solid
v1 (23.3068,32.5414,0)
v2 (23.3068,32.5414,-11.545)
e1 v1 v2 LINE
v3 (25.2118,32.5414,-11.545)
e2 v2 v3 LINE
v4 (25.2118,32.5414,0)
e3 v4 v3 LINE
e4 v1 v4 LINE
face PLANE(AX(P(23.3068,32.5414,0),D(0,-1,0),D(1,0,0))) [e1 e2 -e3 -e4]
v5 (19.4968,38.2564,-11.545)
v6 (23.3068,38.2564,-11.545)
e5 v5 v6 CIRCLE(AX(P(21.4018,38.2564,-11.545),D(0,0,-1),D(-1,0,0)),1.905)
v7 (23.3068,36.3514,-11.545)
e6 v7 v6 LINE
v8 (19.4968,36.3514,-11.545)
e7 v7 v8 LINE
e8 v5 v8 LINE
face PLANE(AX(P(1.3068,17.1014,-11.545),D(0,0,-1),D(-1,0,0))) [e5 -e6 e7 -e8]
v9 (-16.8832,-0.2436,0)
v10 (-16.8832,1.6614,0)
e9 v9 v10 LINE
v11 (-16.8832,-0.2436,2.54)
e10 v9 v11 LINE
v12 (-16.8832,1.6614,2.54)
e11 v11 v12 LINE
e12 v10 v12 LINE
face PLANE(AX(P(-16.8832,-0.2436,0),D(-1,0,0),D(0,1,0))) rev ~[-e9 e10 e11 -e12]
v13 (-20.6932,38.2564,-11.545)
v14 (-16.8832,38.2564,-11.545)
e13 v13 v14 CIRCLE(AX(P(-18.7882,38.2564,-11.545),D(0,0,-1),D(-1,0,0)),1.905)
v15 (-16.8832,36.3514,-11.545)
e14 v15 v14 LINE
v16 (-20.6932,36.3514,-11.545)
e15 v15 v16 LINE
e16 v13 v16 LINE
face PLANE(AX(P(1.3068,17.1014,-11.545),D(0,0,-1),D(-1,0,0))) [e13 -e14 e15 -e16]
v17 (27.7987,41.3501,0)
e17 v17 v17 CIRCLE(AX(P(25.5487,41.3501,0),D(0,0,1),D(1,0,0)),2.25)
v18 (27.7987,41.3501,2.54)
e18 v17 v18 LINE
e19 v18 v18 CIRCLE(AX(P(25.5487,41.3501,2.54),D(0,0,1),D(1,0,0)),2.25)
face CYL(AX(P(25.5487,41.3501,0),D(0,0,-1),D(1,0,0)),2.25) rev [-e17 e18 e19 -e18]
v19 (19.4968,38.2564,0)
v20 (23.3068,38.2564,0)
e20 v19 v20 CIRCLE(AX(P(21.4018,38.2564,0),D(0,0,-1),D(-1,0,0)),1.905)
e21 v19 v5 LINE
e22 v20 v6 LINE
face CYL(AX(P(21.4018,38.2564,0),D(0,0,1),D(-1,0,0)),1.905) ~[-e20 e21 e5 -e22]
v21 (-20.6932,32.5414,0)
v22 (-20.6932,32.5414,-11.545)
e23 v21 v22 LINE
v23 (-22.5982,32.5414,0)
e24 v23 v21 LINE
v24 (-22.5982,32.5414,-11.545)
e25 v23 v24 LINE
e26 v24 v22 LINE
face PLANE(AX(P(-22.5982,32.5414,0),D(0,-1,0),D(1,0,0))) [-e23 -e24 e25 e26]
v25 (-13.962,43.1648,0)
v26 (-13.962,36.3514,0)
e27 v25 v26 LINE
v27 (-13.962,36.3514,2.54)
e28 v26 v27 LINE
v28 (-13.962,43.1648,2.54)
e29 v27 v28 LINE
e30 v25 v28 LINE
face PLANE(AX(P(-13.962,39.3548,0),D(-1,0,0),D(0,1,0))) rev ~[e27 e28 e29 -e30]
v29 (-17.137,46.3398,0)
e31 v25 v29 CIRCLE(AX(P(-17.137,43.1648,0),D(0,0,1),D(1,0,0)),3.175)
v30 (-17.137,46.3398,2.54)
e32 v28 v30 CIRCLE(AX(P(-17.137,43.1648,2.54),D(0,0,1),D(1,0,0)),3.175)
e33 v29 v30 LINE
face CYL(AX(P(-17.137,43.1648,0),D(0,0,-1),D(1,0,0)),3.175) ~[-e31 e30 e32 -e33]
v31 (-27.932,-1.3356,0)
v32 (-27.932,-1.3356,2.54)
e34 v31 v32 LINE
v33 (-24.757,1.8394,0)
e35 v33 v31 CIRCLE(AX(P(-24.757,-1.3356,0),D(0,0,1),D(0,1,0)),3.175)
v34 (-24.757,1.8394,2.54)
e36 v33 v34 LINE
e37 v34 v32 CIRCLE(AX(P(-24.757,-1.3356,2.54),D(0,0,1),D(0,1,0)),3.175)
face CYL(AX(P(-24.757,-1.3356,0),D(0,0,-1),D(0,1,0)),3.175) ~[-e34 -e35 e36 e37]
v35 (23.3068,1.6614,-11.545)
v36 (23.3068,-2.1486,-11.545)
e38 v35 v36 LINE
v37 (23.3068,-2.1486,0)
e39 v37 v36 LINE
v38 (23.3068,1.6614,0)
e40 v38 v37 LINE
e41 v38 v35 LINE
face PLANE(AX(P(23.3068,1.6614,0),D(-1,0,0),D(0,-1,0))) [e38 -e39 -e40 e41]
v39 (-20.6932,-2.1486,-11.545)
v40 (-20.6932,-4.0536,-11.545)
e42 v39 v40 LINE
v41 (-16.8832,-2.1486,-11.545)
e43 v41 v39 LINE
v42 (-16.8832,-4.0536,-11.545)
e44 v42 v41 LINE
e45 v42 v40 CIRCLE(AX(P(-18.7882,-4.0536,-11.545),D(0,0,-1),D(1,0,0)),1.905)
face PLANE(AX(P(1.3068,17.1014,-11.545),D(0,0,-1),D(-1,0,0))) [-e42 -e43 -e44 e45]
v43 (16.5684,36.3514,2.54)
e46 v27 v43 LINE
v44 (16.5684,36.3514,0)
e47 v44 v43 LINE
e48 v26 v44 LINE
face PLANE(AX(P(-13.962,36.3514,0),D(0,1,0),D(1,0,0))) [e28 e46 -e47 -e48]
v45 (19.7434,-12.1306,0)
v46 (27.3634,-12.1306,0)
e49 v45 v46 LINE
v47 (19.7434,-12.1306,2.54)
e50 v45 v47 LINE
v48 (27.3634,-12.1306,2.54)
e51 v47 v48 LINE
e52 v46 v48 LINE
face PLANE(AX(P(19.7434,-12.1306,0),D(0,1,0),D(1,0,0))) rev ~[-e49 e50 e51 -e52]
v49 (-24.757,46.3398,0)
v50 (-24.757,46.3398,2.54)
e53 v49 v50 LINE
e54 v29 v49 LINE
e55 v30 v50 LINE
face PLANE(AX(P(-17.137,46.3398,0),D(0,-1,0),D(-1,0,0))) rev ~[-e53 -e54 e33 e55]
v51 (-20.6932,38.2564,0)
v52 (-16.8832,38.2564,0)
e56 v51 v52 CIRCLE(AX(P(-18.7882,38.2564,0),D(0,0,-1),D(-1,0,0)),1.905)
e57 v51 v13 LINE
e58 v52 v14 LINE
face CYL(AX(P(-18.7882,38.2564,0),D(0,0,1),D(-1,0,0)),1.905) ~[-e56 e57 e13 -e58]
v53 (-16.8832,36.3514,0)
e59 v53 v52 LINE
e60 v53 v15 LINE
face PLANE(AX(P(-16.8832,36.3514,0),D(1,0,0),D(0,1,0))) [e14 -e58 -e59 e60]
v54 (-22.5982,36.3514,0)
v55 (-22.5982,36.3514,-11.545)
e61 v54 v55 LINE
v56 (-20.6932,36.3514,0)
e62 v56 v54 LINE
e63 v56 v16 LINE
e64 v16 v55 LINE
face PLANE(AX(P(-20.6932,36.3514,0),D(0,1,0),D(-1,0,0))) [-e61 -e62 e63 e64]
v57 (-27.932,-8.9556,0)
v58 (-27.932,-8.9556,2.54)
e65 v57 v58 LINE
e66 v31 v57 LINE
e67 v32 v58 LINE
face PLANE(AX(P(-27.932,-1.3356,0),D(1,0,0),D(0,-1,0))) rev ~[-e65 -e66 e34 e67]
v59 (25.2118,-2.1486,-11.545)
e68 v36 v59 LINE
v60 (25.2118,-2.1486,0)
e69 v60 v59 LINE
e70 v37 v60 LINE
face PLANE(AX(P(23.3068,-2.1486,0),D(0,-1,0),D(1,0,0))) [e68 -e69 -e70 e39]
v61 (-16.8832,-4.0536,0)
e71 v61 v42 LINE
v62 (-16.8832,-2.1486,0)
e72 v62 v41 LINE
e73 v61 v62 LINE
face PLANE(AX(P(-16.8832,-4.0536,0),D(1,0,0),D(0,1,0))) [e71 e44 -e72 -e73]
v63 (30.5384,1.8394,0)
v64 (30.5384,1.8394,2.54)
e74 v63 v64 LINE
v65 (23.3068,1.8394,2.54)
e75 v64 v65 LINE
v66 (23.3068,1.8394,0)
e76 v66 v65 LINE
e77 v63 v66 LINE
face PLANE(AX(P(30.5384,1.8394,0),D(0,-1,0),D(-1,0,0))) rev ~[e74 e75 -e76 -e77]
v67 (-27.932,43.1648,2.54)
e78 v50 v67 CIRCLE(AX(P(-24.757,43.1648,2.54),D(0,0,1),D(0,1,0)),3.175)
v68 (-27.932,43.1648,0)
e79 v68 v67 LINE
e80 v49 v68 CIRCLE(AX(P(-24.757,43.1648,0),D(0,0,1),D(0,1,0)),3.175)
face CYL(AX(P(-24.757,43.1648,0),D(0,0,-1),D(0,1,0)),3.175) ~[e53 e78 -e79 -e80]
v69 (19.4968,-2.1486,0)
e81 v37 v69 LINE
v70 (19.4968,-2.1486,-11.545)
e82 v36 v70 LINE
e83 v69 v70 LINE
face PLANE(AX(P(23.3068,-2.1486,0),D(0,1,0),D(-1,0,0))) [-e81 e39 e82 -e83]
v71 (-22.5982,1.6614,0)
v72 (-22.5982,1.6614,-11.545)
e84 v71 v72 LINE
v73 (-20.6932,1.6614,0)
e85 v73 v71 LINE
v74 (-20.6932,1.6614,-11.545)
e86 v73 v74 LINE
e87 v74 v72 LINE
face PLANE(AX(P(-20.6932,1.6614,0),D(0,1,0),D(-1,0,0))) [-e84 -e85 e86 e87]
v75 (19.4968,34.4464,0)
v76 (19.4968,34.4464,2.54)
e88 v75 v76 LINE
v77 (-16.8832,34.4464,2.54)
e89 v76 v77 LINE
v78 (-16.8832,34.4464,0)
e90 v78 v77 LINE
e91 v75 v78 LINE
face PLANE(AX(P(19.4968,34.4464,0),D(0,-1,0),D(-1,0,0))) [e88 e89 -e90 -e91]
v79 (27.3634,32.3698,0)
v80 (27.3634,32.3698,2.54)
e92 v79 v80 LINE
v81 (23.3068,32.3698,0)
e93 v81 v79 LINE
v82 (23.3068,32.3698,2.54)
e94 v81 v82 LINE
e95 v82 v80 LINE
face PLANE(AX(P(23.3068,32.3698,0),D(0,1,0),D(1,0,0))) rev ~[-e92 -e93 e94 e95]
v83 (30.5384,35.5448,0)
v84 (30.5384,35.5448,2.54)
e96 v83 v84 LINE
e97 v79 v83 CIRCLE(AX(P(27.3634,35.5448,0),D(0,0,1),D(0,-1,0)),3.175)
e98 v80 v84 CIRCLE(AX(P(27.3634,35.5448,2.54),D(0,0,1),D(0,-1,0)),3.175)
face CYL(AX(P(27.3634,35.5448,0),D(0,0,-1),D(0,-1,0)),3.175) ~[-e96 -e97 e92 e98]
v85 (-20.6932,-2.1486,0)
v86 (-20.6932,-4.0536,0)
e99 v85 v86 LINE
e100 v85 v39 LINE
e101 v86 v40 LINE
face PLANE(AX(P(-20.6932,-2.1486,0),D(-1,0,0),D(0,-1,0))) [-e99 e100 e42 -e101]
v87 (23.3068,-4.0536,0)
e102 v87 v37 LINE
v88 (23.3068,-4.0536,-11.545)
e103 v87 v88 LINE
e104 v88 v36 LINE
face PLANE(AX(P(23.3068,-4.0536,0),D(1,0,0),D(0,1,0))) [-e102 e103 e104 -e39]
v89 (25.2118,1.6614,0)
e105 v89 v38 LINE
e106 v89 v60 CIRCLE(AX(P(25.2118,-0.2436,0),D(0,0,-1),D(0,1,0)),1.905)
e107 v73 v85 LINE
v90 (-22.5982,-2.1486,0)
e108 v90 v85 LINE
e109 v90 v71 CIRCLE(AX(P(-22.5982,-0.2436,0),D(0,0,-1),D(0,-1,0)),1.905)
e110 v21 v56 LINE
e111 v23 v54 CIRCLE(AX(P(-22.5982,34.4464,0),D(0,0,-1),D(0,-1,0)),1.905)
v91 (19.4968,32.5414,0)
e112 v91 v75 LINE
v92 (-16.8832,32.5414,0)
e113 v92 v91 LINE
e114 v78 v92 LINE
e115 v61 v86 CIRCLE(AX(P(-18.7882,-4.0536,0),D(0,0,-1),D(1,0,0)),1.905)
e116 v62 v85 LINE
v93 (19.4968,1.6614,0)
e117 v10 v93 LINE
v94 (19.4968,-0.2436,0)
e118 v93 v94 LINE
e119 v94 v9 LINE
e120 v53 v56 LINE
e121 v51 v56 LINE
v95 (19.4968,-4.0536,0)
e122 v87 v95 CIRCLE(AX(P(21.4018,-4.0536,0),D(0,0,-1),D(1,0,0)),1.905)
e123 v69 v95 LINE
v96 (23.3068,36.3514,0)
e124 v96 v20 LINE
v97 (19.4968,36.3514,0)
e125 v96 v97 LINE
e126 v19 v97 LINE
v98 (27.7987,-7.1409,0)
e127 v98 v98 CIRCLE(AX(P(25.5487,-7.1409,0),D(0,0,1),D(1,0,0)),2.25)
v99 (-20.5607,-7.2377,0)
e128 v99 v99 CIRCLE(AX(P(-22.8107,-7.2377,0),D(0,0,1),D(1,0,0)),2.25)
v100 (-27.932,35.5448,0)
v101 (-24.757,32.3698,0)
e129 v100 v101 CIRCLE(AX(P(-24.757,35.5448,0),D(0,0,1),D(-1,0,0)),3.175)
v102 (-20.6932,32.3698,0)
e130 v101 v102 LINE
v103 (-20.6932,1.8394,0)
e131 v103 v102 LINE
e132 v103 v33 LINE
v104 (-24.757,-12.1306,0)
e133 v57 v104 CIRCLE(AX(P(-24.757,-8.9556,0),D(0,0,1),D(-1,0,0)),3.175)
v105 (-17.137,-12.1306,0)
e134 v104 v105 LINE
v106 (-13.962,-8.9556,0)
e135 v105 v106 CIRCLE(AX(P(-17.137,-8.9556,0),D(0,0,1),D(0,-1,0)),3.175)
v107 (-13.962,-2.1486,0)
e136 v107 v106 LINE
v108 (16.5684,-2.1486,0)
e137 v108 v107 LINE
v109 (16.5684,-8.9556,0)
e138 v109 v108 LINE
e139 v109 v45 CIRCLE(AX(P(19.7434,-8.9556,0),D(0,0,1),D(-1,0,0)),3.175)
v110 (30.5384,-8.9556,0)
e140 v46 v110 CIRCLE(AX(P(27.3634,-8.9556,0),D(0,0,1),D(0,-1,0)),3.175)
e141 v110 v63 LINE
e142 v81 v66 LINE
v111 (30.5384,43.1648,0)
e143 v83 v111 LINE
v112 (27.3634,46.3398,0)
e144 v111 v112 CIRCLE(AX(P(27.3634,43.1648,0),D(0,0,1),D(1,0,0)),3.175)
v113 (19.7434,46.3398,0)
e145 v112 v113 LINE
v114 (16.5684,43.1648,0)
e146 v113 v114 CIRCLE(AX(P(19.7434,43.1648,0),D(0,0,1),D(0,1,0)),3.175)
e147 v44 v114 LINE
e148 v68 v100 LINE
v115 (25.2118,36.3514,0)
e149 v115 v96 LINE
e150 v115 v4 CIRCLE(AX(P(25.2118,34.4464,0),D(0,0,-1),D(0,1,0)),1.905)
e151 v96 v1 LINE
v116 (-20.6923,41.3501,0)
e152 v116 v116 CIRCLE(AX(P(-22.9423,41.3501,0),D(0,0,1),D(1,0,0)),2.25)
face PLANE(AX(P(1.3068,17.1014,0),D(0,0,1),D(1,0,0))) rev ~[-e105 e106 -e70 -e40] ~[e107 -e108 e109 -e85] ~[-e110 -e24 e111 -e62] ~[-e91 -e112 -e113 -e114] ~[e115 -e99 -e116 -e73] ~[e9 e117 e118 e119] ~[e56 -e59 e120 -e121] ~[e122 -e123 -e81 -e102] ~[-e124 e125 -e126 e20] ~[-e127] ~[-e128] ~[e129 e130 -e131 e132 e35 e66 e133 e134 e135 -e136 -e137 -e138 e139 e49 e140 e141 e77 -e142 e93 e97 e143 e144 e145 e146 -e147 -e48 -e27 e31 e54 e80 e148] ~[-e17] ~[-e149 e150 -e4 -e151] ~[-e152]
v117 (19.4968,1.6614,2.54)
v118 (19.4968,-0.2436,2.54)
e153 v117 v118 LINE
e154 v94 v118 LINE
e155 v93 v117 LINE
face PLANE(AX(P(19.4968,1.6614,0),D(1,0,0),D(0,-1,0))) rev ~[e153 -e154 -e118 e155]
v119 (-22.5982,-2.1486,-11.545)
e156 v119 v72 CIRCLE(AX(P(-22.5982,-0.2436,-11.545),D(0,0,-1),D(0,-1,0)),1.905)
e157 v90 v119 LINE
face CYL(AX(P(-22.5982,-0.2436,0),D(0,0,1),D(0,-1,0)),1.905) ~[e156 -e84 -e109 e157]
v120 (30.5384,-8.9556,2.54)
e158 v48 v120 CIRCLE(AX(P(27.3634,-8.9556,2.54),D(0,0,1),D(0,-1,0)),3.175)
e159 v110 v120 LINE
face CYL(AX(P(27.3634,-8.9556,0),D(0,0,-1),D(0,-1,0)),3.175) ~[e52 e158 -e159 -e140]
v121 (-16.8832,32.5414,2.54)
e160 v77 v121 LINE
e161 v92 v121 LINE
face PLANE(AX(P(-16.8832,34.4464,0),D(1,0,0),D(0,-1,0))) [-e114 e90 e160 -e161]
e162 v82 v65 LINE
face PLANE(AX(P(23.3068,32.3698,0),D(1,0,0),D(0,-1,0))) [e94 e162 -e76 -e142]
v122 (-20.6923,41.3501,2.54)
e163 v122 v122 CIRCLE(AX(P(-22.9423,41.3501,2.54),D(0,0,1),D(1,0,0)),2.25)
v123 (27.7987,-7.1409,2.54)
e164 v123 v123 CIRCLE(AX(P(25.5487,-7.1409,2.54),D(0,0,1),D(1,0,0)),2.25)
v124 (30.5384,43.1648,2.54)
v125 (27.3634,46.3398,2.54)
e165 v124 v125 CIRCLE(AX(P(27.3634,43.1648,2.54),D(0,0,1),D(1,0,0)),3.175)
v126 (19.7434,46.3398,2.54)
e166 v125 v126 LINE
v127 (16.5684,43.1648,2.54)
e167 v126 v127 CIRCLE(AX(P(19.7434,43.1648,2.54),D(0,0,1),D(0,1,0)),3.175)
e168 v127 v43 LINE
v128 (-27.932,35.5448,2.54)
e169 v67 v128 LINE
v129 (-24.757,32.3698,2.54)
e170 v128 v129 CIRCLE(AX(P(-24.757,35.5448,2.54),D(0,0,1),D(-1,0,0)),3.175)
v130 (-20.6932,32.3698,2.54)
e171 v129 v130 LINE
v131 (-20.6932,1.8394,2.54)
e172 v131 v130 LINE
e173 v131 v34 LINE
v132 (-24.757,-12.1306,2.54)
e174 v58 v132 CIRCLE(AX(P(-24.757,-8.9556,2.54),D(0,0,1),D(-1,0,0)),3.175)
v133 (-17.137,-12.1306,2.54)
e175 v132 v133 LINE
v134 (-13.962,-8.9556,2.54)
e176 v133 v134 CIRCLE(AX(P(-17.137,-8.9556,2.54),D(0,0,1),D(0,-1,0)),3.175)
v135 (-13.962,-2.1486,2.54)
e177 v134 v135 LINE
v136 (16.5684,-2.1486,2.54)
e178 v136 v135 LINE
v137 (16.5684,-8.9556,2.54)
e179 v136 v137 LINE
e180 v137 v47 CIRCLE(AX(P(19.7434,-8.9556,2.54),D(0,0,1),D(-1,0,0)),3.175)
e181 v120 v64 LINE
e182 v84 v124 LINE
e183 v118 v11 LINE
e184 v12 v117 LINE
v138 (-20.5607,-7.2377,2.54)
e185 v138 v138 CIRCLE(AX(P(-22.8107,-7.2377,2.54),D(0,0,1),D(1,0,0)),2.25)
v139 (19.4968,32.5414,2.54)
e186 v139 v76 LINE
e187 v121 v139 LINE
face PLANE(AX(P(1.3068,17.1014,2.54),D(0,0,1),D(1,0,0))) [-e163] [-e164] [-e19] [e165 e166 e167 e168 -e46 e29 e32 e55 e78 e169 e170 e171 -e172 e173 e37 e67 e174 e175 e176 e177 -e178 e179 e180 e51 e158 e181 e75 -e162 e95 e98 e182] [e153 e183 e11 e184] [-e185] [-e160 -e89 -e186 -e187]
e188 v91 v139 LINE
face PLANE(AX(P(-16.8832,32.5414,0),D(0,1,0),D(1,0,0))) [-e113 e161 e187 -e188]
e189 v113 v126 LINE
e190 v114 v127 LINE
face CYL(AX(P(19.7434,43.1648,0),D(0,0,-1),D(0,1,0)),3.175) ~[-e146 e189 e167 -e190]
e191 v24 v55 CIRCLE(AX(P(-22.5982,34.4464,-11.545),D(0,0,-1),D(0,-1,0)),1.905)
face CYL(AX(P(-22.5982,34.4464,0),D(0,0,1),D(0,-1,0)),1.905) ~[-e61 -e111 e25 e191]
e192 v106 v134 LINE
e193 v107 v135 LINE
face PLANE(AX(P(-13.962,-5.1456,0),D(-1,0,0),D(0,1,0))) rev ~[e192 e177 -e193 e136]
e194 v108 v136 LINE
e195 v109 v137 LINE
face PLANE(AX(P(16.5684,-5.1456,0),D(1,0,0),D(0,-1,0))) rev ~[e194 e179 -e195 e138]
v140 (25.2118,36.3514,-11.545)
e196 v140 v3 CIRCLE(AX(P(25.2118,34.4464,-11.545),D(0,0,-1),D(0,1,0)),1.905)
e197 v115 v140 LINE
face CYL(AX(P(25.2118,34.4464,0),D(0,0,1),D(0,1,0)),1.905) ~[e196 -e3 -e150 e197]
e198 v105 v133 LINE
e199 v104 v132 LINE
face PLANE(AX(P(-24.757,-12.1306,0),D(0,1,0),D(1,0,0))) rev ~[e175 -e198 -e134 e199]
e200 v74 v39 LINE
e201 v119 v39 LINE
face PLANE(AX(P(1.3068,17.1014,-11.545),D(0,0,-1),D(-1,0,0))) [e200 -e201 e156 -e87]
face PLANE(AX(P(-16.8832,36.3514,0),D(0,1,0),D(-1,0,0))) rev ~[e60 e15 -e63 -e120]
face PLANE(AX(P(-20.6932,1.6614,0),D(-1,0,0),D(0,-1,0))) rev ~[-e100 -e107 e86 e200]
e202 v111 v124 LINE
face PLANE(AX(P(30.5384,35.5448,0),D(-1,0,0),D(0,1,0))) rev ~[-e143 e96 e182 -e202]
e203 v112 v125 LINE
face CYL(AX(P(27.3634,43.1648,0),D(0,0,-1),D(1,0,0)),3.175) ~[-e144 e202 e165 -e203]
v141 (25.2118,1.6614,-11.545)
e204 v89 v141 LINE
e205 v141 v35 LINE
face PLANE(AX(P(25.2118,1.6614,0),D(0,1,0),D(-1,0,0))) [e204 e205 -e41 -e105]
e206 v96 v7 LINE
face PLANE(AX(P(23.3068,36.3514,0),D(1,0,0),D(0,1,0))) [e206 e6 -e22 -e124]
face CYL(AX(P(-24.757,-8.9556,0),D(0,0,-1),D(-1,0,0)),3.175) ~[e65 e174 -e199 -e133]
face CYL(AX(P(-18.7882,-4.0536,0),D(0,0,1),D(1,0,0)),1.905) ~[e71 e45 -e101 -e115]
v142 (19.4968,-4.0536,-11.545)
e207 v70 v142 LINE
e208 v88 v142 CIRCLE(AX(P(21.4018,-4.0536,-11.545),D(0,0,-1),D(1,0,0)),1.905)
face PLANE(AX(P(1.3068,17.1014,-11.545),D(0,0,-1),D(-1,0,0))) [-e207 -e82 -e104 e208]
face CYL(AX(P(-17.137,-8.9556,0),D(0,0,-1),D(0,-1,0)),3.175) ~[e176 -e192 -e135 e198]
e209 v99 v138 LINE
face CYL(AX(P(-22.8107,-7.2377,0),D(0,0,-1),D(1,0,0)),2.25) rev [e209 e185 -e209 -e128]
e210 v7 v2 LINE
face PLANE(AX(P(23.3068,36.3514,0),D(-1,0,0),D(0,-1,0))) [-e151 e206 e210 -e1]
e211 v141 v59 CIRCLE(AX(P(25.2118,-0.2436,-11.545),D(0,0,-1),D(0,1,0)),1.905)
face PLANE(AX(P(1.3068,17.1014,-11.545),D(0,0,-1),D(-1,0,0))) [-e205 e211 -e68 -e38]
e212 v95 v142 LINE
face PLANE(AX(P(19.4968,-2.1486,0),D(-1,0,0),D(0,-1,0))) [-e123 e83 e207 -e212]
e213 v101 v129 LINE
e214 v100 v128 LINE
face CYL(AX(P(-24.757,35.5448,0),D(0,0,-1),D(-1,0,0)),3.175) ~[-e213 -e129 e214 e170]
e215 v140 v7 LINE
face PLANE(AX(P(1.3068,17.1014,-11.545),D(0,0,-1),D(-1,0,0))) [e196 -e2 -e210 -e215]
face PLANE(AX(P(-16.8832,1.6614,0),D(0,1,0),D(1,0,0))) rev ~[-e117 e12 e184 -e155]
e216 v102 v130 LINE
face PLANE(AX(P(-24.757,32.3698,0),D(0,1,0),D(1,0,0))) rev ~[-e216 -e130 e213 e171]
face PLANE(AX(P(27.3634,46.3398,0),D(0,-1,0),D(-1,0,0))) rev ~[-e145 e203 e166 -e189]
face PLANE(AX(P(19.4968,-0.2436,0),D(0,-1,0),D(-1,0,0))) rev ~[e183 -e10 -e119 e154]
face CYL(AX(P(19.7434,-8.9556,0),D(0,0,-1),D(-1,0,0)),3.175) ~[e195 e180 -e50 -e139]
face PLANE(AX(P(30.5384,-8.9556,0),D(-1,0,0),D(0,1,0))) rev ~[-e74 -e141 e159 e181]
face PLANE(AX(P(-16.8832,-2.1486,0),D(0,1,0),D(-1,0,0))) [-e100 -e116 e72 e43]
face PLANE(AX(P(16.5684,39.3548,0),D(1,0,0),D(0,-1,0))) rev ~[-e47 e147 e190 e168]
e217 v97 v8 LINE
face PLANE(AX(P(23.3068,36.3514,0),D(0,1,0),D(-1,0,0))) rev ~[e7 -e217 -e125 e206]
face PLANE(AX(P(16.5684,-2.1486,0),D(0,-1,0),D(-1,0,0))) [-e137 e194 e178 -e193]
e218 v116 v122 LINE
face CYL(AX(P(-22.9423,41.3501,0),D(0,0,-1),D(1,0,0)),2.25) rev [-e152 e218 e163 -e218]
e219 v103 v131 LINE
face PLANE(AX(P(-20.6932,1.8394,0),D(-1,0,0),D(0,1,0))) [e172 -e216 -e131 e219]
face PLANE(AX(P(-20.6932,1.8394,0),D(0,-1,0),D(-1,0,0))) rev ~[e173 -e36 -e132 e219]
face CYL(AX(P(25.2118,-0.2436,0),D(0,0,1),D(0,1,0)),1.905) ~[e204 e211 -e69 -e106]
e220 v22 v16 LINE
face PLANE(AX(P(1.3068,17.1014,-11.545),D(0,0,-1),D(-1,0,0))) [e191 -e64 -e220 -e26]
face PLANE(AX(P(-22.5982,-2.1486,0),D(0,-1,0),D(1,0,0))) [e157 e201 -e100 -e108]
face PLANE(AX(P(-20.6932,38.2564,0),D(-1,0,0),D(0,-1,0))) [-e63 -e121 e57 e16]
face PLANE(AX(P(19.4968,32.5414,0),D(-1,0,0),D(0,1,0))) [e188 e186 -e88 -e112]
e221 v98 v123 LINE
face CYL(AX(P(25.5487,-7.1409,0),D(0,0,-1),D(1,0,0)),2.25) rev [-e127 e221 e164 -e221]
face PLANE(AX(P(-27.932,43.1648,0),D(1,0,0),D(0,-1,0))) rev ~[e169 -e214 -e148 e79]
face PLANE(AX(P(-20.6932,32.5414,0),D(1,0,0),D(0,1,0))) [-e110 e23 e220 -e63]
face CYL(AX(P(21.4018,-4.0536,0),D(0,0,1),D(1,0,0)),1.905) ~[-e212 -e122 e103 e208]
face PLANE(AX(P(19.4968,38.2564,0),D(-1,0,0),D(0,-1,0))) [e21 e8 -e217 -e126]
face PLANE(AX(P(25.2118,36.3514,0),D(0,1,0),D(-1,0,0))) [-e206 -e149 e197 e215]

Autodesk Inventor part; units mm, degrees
ref_plane "YZ Plane" through (0, 0, 0) normal (1, 0, 0) x (0, 1, 0)
ref_plane "XZ Plane" through (0, 0, 0) normal (0, 1, 0) x (-1, 0, 0)
ref_plane "XY Plane" through (0, 0, 0) normal (0, 0, 1) x (1, 0, 0)
ref_plane "Work Plane1" through (1.3068, 17.1014, 0) normal (0, 0, 1) x (1, 0, 0)
sketch "Sketch2" plane through (1.3068, 17.1014, 0) normal (0, 0, 1) x (1, 0, 0)
  line L0 (-22, -19.25) -> (-22, 19.25)
  line L1 (-22, 19.25) -> (22, 19.25)
  line L2 (22, -19.25) -> (-22, -19.25)
  line L3 (-22, 19.25) -> (22, 19.25)
  line L4 (22, 19.25) -> (22, -19.25)
  line L5 (-22, 19.25) -> (22, 19.25)
  line L6 (-22, 19.25) -> (-18.19, 19.25)
  line L7 (-22, 15.44) -> (-22, 19.25)
  line L8 (-22, -19.25) -> (-18.19, -19.25)
  line L9 (22, -19.25) -> (18.19, -19.25)
  line L10 (22, -15.44) -> (22, -19.25)
  line L11 (22, 15.44) -> (22, 19.25)
  line L12 (22, 19.25) -> (18.19, 19.25)
  line L13 (18.19, 17.345) -> (-18.19, 17.345)
  line L14 (-18.19, 17.345) -> (-18.19, 15.44)
  line L15 (-18.19, 15.44) -> (18.19, 15.44)
  line L16 (18.19, 15.44) -> (18.19, 17.345)
  line L17 (18.19, -17.345) -> (-18.19, -17.345)
  line L18 (-18.19, -17.345) -> (-18.19, -15.44)
  line L19 (-18.19, -15.44) -> (18.19, -15.44)
  line L20 (18.19, -15.44) -> (18.19, -17.345)
  circle A0 centre (-24.1175, -24.3391) radius 2.25 projected
  circle A1 centre (-24.2491, 24.2487) radius 2.25 projected
  circle A2 centre (24.2419, 24.2487) radius 2.25 projected
  circle A3 centre (24.2419, -24.2423) radius 2.25 projected
  line L21 (15.2616, -22.247) -> (15.2616, -26.057) projected
  arc A4 (15.2616, -26.057) -> (18.4366, -29.232) centre (18.4366, -26.057) ccw projected
  line L22 (18.4366, -29.232) -> (26.0566, -29.232) projected
  arc A5 (26.0566, -29.232) -> (29.2316, -26.057) centre (26.0566, -26.057) ccw projected
  line L23 (29.2316, -26.057) -> (29.2316, -15.262) projected
  line L24 (29.2316, -15.262) -> (18.3723, -15.262) projected
  line L25 (18.3723, 15.2684) -> (26.0566, 15.2684) projected
  arc A6 (26.0566, 15.2684) -> (29.2316, 18.4434) centre (26.0566, 18.4434) ccw projected
  line L26 (29.2316, 18.4434) -> (29.2316, 26.0634) projected
  arc A7 (29.2316, 26.0634) -> (26.0566, 29.2384) centre (26.0566, 26.0634) ccw projected
  line L27 (26.0566, 29.2384) -> (18.4366, 29.2384) projected
  line L28 (15.2616, 26.0634) -> (15.2616, 22.2534) projected
  arc A8 (18.4366, 29.2384) -> (15.2616, 26.0634) centre (18.4366, 26.0634) ccw projected
  line L29 (-26.0638, 15.2684) -> (-15.2688, 15.2684) projected
  arc A9 (-29.2388, 18.4434) -> (-26.0638, 15.2684) centre (-26.0638, 18.4434) ccw projected
  line L30 (-29.2388, 26.0634) -> (-29.2388, 18.4434) projected
  arc A10 (-26.0638, 29.2384) -> (-29.2388, 26.0634) centre (-26.0638, 26.0634) ccw projected
  line L31 (-18.4438, 29.2384) -> (-26.0638, 29.2384) projected
  arc A11 (-15.2688, 26.0634) -> (-18.4438, 29.2384) centre (-18.4438, 26.0634) ccw projected
  line L32 (-15.2688, 22.2534) -> (-15.2688, 26.0634) projected
  line L33 (-15.2688, -26.057) -> (-15.2688, -22.247) projected
  arc A12 (-18.4438, -29.232) -> (-15.2688, -26.057) centre (-18.4438, -26.057) ccw projected
  line L34 (-26.0638, -29.232) -> (-18.4438, -29.232) projected
  arc A13 (-29.2388, -26.057) -> (-26.0638, -29.232) centre (-26.0638, -26.057) ccw projected
  line L35 (-29.2388, -18.437) -> (-29.2388, -26.057) projected
  arc A14 (-26.0638, -15.262) -> (-29.2388, -18.437) centre (-26.0638, -18.437) ccw projected
  line L36 (-15.2688, -15.262) -> (-26.0638, -15.262) projected
  line L37 (-15.2688, -22.247) -> (-15.2688, -19.25)
  line L38 (15.2616, -22.247) -> (15.2616, -19.25)
  line L39 (15.2616, 22.2534) -> (15.2616, 19.25)
  line L40 (-15.2688, 22.2534) -> (-15.2688, 19.25)
  point P0 (-1.3068, -17.1014)
  point P1 (0, 0)
  point P2 (22, -15.262)
  point P3 (18.19, -19.25)
  point P4 (15.2616, 19.25)
  point P5 (22, 15.2684)
  point P6 (-22, 15.2684)
  point P7 (-22, -15.262)
extrude "Extrusion2" add sketch "Sketch2" along normal blind 2.54
sketch "Sketch4" plane through (1.3068, 17.1014, 0) normal (0, 0, -1) x (-1, 0, 0)
  line L0 (22, 21.155) -> (22, 19.25) projected
  arc A0 (22, 21.155) -> (18.19, 21.155) centre (20.095, 21.155) ccw projected
  line L1 (18.19, 19.25) -> (18.19, 21.155) projected
  line L2 (22, 19.25) -> (23.905, 19.25) projected
  arc A1 (23.905, 15.44) -> (23.905, 19.25) centre (23.905, 17.345) ccw projected
  line L3 (23.905, 15.44) -> (22, 15.44) projected
  line L4 (-23.905, 19.25) -> (-22, 19.25) projected
  arc A2 (-23.905, 19.25) -> (-23.905, 15.44) centre (-23.905, 17.345) ccw projected
  line L5 (-22, 15.44) -> (-23.905, 15.44) projected
  line L6 (-22, 19.25) -> (-22, 21.155) projected
  arc A3 (-18.19, 21.155) -> (-22, 21.155) centre (-20.095, 21.155) ccw projected
  line L7 (-18.19, 21.155) -> (-18.19, 19.25) projected
  line L8 (-23.905, -15.44) -> (-22, -15.44) projected
  arc A4 (-23.905, -15.44) -> (-23.905, -19.25) centre (-23.905, -17.345) ccw projected
  line L9 (-22, -19.25) -> (-23.905, -19.25) projected
  line L10 (-22, -21.155) -> (-22, -19.25) projected
  arc A5 (-22, -21.155) -> (-18.19, -21.155) centre (-20.095, -21.155) ccw projected
  line L11 (-18.19, -19.25) -> (-18.19, -21.155) projected
  line L12 (18.19, -21.155) -> (18.19, -19.25) projected
  arc A6 (18.19, -21.155) -> (22, -21.155) centre (20.095, -21.155) ccw projected
  line L13 (22, -19.25) -> (22, -21.155) projected
  line L14 (23.905, -19.25) -> (22, -19.25) projected
  line L15 (22, -15.44) -> (23.905, -15.44) projected
  arc A7 (23.905, -19.25) -> (23.905, -15.44) centre (23.905, -17.345) ccw projected
  line L16 (22, -15.44) -> (22, -19.25)
  line L17 (18.19, -19.25) -> (22, -19.25)
  line L18 (-22, -19.25) -> (-18.19, -19.25)
  line L19 (-22, -15.44) -> (-22, -19.25)
  line L20 (-22, 19.25) -> (-22, 15.44)
  line L21 (-22, 19.25) -> (-18.19, 19.25)
  line L22 (18.19, 19.25) -> (22, 19.25)
  line L23 (22, 21.155) -> (22, 19.25) projected
  line L24 (22, 15.44) -> (22, 19.25)
  point P0 (1.3068, -17.1014)
extrude "Extrusion3" add sketch "Sketch4" along normal blind 11.545
properties part number "cover" material "ABS Plastic"
